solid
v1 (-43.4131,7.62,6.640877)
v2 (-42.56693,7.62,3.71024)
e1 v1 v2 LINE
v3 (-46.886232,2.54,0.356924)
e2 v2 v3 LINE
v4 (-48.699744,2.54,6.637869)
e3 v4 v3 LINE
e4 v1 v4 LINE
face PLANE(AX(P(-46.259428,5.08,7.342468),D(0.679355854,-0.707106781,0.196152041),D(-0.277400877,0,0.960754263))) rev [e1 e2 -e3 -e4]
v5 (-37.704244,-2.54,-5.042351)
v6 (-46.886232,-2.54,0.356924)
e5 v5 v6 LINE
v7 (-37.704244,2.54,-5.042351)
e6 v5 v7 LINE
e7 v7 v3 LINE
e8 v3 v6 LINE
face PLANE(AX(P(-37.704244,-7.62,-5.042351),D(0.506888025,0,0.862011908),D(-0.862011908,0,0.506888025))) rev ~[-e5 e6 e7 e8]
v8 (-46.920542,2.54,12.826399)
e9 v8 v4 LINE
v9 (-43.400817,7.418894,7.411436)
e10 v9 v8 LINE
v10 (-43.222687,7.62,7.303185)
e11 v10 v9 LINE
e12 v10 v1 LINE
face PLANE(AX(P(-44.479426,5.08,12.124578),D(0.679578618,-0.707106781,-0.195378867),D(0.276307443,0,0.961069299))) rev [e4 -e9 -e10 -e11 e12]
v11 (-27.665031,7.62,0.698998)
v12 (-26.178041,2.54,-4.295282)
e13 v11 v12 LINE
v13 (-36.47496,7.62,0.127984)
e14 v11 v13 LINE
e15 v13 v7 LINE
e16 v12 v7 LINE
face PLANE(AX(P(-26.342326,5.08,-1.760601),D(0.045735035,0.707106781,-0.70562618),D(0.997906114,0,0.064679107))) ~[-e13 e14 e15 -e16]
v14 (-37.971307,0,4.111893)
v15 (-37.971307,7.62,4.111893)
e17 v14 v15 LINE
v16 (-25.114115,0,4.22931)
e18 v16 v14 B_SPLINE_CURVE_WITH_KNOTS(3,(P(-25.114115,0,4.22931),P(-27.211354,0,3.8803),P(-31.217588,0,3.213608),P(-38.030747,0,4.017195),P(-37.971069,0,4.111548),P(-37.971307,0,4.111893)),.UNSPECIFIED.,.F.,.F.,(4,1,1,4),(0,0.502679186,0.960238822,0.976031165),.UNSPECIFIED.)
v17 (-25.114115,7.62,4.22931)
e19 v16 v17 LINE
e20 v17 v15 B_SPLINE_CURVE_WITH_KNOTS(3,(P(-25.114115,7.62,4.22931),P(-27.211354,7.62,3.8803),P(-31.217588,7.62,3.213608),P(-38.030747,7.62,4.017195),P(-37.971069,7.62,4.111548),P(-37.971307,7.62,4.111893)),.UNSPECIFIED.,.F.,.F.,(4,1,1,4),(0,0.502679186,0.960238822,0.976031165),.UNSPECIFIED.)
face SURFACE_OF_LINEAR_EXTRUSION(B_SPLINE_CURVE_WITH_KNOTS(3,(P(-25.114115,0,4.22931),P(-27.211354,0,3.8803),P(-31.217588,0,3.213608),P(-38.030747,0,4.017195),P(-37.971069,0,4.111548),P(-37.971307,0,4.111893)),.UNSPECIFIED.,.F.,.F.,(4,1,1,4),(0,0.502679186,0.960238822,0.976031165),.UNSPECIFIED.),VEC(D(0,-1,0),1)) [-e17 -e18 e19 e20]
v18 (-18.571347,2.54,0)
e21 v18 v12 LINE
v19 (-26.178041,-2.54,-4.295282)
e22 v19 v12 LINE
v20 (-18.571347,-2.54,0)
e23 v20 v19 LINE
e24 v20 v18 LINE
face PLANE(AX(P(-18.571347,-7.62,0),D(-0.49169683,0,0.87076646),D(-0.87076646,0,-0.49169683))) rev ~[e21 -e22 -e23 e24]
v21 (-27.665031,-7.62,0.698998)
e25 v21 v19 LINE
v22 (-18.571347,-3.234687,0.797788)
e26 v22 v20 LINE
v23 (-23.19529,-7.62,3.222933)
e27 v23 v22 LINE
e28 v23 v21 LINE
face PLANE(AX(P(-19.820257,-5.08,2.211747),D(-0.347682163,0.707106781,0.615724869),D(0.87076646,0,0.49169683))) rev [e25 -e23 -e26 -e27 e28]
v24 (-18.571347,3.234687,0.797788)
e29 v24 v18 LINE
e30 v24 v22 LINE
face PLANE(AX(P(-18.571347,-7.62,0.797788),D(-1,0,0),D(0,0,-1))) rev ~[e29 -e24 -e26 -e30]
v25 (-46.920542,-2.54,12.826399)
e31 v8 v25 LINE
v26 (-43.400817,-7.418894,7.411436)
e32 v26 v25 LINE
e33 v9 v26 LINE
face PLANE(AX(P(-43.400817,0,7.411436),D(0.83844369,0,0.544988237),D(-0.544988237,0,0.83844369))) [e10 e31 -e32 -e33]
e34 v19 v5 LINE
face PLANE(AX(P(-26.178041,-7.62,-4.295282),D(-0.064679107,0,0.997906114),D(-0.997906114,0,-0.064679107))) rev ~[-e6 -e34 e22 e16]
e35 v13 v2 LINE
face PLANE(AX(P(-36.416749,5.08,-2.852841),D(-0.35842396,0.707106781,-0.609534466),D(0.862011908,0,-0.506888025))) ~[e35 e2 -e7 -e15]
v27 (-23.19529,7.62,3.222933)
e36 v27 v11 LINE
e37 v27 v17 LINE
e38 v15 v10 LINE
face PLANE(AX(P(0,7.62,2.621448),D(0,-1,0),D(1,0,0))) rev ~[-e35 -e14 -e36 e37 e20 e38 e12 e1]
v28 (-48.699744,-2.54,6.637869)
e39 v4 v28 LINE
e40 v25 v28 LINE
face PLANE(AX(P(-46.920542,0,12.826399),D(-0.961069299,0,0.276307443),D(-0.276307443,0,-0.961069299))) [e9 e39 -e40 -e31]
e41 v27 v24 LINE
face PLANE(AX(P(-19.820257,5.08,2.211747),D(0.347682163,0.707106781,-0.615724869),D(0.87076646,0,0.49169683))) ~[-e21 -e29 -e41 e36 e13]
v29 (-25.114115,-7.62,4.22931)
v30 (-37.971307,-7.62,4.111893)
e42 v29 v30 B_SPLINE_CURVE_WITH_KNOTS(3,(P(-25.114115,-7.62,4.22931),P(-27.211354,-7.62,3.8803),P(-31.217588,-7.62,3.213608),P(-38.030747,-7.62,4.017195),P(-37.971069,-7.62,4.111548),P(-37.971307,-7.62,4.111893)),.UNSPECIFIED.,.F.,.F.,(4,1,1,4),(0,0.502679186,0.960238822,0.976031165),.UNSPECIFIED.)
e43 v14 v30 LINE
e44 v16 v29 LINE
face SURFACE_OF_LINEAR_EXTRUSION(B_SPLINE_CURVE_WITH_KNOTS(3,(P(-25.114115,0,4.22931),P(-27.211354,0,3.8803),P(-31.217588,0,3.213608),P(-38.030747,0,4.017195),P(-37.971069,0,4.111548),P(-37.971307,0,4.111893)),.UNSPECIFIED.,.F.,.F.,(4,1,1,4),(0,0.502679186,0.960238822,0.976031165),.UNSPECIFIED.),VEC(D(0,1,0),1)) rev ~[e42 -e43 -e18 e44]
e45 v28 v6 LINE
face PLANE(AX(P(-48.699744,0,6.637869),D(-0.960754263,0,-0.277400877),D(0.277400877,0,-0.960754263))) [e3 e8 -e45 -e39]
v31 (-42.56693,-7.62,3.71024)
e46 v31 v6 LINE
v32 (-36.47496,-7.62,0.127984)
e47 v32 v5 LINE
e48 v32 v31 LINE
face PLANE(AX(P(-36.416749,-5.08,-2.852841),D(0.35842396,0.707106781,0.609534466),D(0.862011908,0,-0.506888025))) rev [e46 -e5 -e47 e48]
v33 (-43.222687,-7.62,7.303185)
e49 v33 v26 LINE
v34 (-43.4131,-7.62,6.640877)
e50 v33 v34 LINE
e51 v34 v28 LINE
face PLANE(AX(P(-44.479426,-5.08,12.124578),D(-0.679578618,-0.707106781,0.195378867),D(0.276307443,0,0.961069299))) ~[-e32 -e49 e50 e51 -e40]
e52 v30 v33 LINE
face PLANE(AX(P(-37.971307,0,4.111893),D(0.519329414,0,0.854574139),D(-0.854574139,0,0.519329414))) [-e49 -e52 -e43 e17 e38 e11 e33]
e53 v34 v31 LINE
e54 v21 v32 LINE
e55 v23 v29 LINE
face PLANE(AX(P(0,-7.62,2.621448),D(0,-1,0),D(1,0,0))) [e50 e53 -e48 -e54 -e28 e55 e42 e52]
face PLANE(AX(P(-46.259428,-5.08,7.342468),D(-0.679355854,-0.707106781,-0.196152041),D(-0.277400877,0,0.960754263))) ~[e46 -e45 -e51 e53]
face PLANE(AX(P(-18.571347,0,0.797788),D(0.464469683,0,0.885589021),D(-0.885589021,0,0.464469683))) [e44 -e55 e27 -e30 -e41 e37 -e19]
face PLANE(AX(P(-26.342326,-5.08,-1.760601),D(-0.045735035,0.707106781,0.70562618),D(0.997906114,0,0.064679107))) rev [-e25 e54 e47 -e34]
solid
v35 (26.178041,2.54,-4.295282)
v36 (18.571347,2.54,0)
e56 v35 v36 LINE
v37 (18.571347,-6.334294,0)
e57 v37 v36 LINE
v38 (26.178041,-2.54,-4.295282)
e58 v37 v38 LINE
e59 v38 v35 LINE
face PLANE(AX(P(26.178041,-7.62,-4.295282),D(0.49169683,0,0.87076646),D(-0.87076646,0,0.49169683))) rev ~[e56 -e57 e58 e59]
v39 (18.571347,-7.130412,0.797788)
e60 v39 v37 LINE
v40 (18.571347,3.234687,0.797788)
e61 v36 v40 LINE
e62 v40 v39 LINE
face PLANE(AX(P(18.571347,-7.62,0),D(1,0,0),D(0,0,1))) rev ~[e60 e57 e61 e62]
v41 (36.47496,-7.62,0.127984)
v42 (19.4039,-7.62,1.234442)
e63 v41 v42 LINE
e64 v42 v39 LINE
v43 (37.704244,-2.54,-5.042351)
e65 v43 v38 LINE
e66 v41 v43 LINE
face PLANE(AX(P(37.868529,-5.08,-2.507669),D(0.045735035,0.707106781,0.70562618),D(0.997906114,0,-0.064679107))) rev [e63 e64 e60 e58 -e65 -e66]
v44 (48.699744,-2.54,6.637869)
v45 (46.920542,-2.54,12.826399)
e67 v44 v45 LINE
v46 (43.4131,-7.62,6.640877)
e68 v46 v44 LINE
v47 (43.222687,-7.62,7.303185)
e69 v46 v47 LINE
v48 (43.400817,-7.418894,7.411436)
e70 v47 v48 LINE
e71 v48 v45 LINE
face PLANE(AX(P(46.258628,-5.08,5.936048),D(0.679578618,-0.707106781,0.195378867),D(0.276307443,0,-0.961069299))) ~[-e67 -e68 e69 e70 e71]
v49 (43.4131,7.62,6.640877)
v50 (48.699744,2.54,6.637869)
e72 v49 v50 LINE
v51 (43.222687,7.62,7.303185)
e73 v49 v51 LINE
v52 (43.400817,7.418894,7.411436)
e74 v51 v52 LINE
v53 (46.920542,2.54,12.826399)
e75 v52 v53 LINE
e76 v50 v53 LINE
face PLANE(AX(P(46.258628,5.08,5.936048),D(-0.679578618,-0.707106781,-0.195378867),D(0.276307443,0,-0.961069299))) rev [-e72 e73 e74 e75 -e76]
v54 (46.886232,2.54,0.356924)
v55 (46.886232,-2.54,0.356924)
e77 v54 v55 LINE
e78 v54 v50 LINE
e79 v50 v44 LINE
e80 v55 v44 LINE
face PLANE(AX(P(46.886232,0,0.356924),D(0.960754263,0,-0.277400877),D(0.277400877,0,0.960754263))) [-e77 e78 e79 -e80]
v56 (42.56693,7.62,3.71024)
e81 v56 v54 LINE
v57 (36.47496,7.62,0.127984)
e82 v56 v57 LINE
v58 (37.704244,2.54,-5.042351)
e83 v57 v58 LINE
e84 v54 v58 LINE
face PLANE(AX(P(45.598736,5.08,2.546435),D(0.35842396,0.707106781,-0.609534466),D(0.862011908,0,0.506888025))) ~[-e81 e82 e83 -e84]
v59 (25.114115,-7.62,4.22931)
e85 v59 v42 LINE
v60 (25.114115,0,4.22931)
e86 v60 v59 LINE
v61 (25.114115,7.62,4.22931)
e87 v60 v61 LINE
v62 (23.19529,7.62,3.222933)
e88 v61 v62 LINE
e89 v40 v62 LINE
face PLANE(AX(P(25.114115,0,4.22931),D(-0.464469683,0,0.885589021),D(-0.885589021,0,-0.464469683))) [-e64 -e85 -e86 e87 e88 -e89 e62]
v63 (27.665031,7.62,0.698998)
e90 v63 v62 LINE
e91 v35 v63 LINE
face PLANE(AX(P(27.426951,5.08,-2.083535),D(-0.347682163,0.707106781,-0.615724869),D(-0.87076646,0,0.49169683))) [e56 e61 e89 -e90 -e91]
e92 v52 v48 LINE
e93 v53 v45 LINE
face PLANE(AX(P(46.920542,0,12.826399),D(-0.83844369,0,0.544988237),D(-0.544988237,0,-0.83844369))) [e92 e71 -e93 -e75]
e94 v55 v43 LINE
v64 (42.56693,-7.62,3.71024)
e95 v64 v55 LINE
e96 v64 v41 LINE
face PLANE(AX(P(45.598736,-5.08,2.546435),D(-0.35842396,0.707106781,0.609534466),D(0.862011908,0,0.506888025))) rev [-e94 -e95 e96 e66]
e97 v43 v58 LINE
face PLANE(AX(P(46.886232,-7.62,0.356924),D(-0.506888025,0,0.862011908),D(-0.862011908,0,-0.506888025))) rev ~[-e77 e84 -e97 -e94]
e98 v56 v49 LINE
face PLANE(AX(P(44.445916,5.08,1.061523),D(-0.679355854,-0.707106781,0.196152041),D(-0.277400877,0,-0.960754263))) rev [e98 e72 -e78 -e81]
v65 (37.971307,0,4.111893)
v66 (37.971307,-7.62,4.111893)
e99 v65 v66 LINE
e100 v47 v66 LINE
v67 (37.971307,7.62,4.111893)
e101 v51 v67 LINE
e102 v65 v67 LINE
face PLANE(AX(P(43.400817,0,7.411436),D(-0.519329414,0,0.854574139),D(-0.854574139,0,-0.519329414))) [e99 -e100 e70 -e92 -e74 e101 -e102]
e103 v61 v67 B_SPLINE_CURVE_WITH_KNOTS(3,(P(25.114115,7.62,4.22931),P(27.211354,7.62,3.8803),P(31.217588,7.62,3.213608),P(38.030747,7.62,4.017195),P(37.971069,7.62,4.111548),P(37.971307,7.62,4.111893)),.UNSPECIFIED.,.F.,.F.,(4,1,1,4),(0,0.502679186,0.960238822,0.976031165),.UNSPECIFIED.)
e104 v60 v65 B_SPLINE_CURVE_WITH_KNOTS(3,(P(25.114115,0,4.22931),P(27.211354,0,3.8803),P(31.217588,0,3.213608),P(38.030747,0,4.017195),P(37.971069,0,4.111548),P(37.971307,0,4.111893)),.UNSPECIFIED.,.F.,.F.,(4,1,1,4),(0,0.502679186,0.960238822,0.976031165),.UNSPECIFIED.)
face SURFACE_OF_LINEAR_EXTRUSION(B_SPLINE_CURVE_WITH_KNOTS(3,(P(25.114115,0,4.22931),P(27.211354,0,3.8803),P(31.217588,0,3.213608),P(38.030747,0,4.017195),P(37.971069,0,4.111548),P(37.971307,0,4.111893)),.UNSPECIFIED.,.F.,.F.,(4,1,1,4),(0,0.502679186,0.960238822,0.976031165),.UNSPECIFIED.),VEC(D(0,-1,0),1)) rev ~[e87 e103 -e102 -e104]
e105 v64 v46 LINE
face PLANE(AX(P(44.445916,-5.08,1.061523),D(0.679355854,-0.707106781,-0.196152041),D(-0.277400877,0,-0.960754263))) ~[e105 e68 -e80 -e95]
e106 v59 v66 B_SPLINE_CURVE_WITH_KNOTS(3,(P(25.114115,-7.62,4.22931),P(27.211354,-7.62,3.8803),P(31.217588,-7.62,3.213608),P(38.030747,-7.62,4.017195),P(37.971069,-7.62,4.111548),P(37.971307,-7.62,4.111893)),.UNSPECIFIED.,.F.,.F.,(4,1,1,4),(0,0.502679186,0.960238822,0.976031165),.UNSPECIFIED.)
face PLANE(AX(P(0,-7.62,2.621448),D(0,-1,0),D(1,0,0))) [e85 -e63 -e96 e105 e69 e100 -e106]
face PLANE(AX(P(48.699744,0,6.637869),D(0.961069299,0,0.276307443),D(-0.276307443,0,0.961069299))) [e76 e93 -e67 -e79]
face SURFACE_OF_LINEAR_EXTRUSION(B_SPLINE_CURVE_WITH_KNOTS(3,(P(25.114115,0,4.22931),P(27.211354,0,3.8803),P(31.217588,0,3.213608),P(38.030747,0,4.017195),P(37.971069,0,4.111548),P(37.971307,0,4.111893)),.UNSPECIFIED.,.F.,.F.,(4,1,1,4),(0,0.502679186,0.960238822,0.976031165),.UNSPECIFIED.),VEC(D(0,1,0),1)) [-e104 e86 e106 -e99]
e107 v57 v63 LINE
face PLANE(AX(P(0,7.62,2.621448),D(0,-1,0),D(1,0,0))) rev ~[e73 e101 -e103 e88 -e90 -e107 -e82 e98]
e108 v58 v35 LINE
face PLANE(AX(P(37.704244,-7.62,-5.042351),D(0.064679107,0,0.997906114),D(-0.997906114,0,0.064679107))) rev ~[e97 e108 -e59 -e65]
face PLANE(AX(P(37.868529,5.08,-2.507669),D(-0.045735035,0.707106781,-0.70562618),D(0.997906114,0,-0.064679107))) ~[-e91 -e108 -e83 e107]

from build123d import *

# Parameters (mm, degrees)
F1_DEPTH = 7.62
F2_DEPTH = 7.62
F4_DEPTH = 25.4
F5_SIZE  = 5.08
F6_SIZE  = 5.08


with BuildPart() as f1:
    # F0 (on Front) → F1 (new body)
    with BuildSketch(Plane.XZ):
        with BuildLine():
            Line((8.2811145112, 1.2285960838), (0, 15.4874408618))
            Line((0, 15.4874408618), (-8.2811145112, 1.2285960838))
            Line((-8.2811145112, 1.2285960838), (-12.3727992177, 8.1617282704))
            Line((-12.3727992177, 8.1617282704), (-11.9023714215, 16.1495022476))
            add(Edge.make_bspline(
                [(-11.9023714215, 16.1495022476), (-13.1613517272, 16.6548575419), (-15.5670384726, 17.6205013473), (-17.5333922375, 20.1015797679), (-20.5609874273, 22.6867834573), (-21.4873396412, 24.6462285212), (-22.7265176962, 26.164892306), (-23.3956482261, 26.9849393517)],
                knots=[0, 0, 0, 0, 0.2204500858, 0.4212407827, 0.6411829959, 0.8062462362, 1, 1, 1, 1], degree=3))
            Line((-23.3956482261, 26.9849393517), (-23.3956482261, 30.6120049208))
            Line((-23.3956482261, 30.6120049208), (-28.4874904901, 20.2190671116))
            add(Edge.make_bspline(
                [(-28.4874904901, 20.2190671116), (-26.7351245713, 18.6815123537), (-23.471648253, 15.8180844094), (-18.698489342, 12.765512723), (-18.619259599, 5.307731901), (-18.5713469982, 0.7977882633)],
                knots=[0, 0, 0, 0, 0.3143060786, 0.5853403295, 1, 1, 1, 1], degree=3))
            Line((-18.5713469982, 0.7977882633), (-25.1141153276, 4.229309503))
            add(Edge.make_bspline(
                [(-25.1141153276, 4.229309503), (-27.2113543103, 3.8803000814), (-31.2175880029, 3.2136076751), (-38.0307467331, 4.0171950636), (-37.9710688228, 4.111548475), (-37.9713065922, 4.1118925437)],
                knots=[0, 0, 0, 0, 0.5026791859, 0.9602388224, 0.9760311652, 0.9760311652, 0.9760311652, 0.9760311652], degree=3))
            Line((-37.9713065922, 4.1118925437), (-43.4008166194, 7.4114357121))
            Line((-43.4008166194, 7.4114357121), (-46.9205416739, 12.8263989463))
            Line((-46.9205416739, 12.8263989463), (-48.6997440457, 6.6378694028))
            Line((-48.6997440457, 6.6378694028), (-46.8862317502, 0.3569243418))
            Line((-46.8862317502, 0.3569243418), (-50.1090995967, 2.34253495))
            Line((-50.1090995967, 2.34253495), (-54.2478188872, 9.5133557916))
            Line((-54.2478188872, 9.5133557916), (-56.9247491658, 21.5117353946))
            Line((-56.9247491658, 21.5117353946), (-60.4143179953, 10.0391805172))
            Line((-60.4143179953, 10.0391805172), (-59.0758509934, -0.716338749))
            Line((-59.0758509934, -0.716338749), (-61.4659674466, 1.1479511159))
            Line((-61.4659674466, 1.1479511159), (-65.5291676521, 8.0792857334))
            Line((-65.5291676521, 8.0792857334), (-66.8426156044, 23.612709716))
            Line((-66.8426156044, 23.612709716), (-70.5394372344, 10.0391805172))
            Line((-70.5394372344, 10.0391805172), (-70.5394372344, -4.383392632))
            Line((-70.5394372344, -4.383392632), (-64.0365630388, -13.9240529388))
            Line((-64.0365630388, -13.9240529388), (-58.2605600357, -17.2362215817))
            Line((-58.2605600357, -17.2362215817), (-57.4691556394, -21.3832873851))
            Line((-57.4691556394, -21.3832873851), (-50.0076673925, -19.3392392248))
            Line((-50.0076673925, -19.3392392248), (-43.4008166194, -18.7325309962))
            Line((-43.4008166194, -18.7325309962), (-31.6388532519, -30.0529096276))
            Line((-31.6388532519, -30.0529096276), (-30.9283062816, -21.5263534337))
            Line((-30.9283062816, -21.5263534337), (-24.7964542359, -15.9849915653))
            Line((-24.7964542359, -15.9849915653), (-12.4508133158, -11.1685302109))
            Line((-12.4508133158, -11.1685302109), (-2.8095340822, -10.3738503531))
            Line((-2.8095340822, -10.3738503531), (0, -15.2332289144))
            Line((0, -15.2332289144), (2.8095340822, -10.3738503531))
            Line((2.8095340822, -10.3738503531), (12.4508133158, -11.1685302109))
            Line((12.4508133158, -11.1685302109), (24.7964542359, -15.9849915653))
            Line((24.7964542359, -15.9849915653), (30.9283062816, -21.5263534337))
            Line((30.9283062816, -21.5263534337), (31.6388532519, -30.0529096276))
            Line((31.6388532519, -30.0529096276), (43.4008166194, -18.7325309962))
            Line((43.4008166194, -18.7325309962), (50.0076673925, -19.3392392248))
            Line((50.0076673925, -19.3392392248), (57.4691556394, -21.3832873851))
            Line((57.4691556394, -21.3832873851), (58.2605600357, -17.2362215817))
            Line((58.2605600357, -17.2362215817), (64.0365630388, -13.9240529388))
            Line((64.0365630388, -13.9240529388), (70.5394372344, -4.383392632))
            Line((70.5394372344, -4.383392632), (70.5394372344, 10.0391805172))
            Line((70.5394372344, 10.0391805172), (66.8426156044, 23.612709716))
            Line((66.8426156044, 23.612709716), (65.5291676521, 8.0792857334))
            Line((65.5291676521, 8.0792857334), (61.4659674466, 1.1479511159))
            Line((61.4659674466, 1.1479511159), (59.0758509934, -0.716338749))
            Line((59.0758509934, -0.716338749), (60.4143179953, 10.0391805172))
            Line((60.4143179953, 10.0391805172), (56.9247491658, 21.5117353946))
            Line((56.9247491658, 21.5117353946), (54.2478188872, 9.5133557916))
            Line((54.2478188872, 9.5133557916), (50.1090995967, 2.34253495))
            Line((50.1090995967, 2.34253495), (46.8862317502, 0.3569243418))
            Line((46.8862317502, 0.3569243418), (48.6997440457, 6.6378694028))
            Line((48.6997440457, 6.6378694028), (46.9205416739, 12.8263989463))
            Line((46.9205416739, 12.8263989463), (43.4008166194, 7.4114357121))
            Line((43.4008166194, 7.4114357121), (37.9713065922, 4.1118925437))
            add(Edge.make_bspline(
                [(25.1141153276, 4.229309503), (27.2113543103, 3.8803000814), (31.2175880029, 3.2136076751), (38.0307467331, 4.0171950636), (37.9710688228, 4.111548475), (37.9713065922, 4.1118925437)],
                knots=[0, 0, 0, 0, 0.5026791859, 0.9602388224, 0.9760311652, 0.9760311652, 0.9760311652, 0.9760311652], degree=3))
            Line((25.1141153276, 4.229309503), (18.5713469982, 0.7977882633))
            add(Edge.make_bspline(
                [(28.4874904901, 20.2190671116), (26.7351245713, 18.6815123537), (23.471648253, 15.8180844094), (18.698489342, 12.765512723), (18.619259599, 5.307731901), (18.5713469982, 0.7977882633)],
                knots=[0, 0, 0, 0, 0.3143060786, 0.5853403295, 1, 1, 1, 1], degree=3))
            Line((28.4874904901, 20.2190671116), (23.3956482261, 30.6120049208))
            Line((23.3956482261, 30.6120049208), (23.3956482261, 26.9849393517))
            add(Edge.make_bspline(
                [(11.9023714215, 16.1495022476), (13.1613517272, 16.6548575419), (15.5670384726, 17.6205013473), (17.5333922375, 20.1015797679), (20.5609874273, 22.6867834573), (21.4873396412, 24.6462285212), (22.7265176962, 26.164892306), (23.3956482261, 26.9849393517)],
                knots=[0, 0, 0, 0, 0.2204500858, 0.4212407827, 0.6411829959, 0.8062462362, 1, 1, 1, 1], degree=3))
            Line((11.9023714215, 16.1495022476), (12.3727992177, 8.1617282704))
            Line((12.3727992177, 8.1617282704), (8.2811145112, 1.2285960838))
        make_face()
    extrude(amount=F1_DEPTH)

    # F2 (add): a face of the model
    f2_faces = [f1.faces().sort_by_distance(p)[0] for p in [
        (0, 0, -2.9396699917),
    ]]
    extrude(f2_faces, amount=F2_DEPTH)

    # F3 (on face) → F4 (cut)
    with BuildSketch(Plane.XZ.offset(7.62)):
        with BuildLine():
            Line((50.1090995967, 2.34253495), (46.8862317502, 0.3569243418))
            Line((46.8862317502, 0.3569243418), (37.704244256, -5.042350851))
            Line((37.704244256, -5.042350851), (26.178041473, -4.2952820659))
            Line((26.178041473, -4.2952820659), (18.5713469982, 0))
            Line((18.5713469982, 0), (18.5713469982, 0.7977882633))
            add(Edge.make_bspline(
                [(28.4874904901, 20.2190671116), (26.7351245713, 18.6815123537), (23.471648253, 15.8180844094), (18.698489342, 12.765512723), (18.619259599, 5.307731901), (18.5713469982, 0.7977882633)],
                knots=[0, 0, 0, 0, 0.3143060786, 0.5853403295, 1, 1, 1, 1], degree=3))
            Line((28.4874904901, 20.2190671116), (23.3956482261, 30.6120049208))
            Line((23.3956482261, 30.6120049208), (23.3956482261, 26.9849393517))
            add(Edge.make_bspline(
                [(11.9023714215, 16.1495022476), (13.1613517272, 16.6548575419), (15.5670384726, 17.6205013473), (17.5333922375, 20.1015797679), (20.5609874273, 22.6867834573), (21.4873396412, 24.6462285212), (22.7265176962, 26.164892306), (23.3956482261, 26.9849393517)],
                knots=[0, 0, 0, 0, 0.2204500858, 0.4212407827, 0.6411829959, 0.8062462362, 1, 1, 1, 1], degree=3))
            Line((11.9023714215, 16.1495022476), (12.3727992177, 8.1617282704))
            Line((12.3727992177, 8.1617282704), (11.8300747126, 1.1479511159))
            Line((11.8300747126, 1.1479511159), (14.1611397266, -7.0250043646))
            Line((14.1611397266, -7.0250043646), (21.2970543653, -9.0706339106))
            Line((21.2970543653, -9.0706339106), (24.7849505395, -10.6449779123))
            Line((24.7849505395, -10.6449779123), (37.9713065922, -13.2080012186))
            Line((37.9713065922, -13.2080012186), (38.8208404183, -12.7084506676))
            Line((38.8208404183, -12.7084506676), (50.1090995967, -9.5750857145))
            Line((50.1090995967, -9.5750857145), (54.7299973552, -7.0923368166))
            Line((54.7299973552, -7.0923368166), (59.0758509934, -0.716338749))
            Line((59.0758509934, -0.716338749), (60.4143179953, 10.0391805172))
            Line((60.4143179953, 10.0391805172), (56.9247491658, 21.5117353946))
            Line((56.9247491658, 21.5117353946), (54.2478188872, 9.5133557916))
            Line((54.2478188872, 9.5133557916), (50.1090995967, 2.34253495))
        make_face()
        Polygon((61.4659674466, 1.1479511159), (59.0758509934, -0.716338749), (54.7299973552, -7.0923368166), (50.1090995967, -9.5750857145), (38.8208404183, -12.7084506676), (37.9713065922, -13.2080012186), (24.7849505395, -10.6449779123), (21.2970543653, -9.0706339106), (14.1611397266, -7.0250043646), (11.8300747126, 1.1479511159), (12.3727992177, 8.1617282704), (8.2811145112, 1.2285960838), (9.0035646737, 0), (2.8095340822, -10.3738503531), (12.4508133158, -11.1685302109), (24.7964542359, -15.9849915653), (30.9283062816, -21.5263534337), (31.6388532519, -30.0529096276), (43.4008166194, -18.7325309962), (50.0076673925, -19.3392392248), (57.4691556394, -21.3832873851), (58.2605600357, -17.2362215817), (64.0365630388, -13.9240529388), (70.5394372344, -4.383392632), (70.5394372344, 10.0391805172), (66.8426156044, 23.612709716), (65.5291676521, 8.0792857334), align=None)
        Polygon((9.0035646737, 0), (8.2811145112, 1.2285960838), (0, 15.4874408618), (-8.2811145112, 1.2285960838), (-9.0035646737, 0), (-2.8095340822, -10.3738503531), (0, -15.2332289144), (2.8095340822, -10.3738503531), align=None)
        Polygon((-9.0035646737, 0), (-8.2811145112, 1.2285960838), (-12.3727992177, 8.1617282704), (-11.8300747126, 1.1479511159), (-14.1611397266, -7.0250043646), (-21.2970543653, -9.0706339106), (-24.7849505395, -10.6449779123), (-37.9713065922, -13.2080012186), (-38.8208404183, -12.7084506676), (-50.1090995967, -9.5750857145), (-54.7299973552, -7.0923368166), (-59.0758509934, -0.716338749), (-61.4659674466, 1.1479511159), (-65.5291676521, 8.0792857334), (-66.8426156044, 23.612709716), (-70.5394372344, 10.0391805172), (-70.5394372344, -4.383392632), (-64.0365630388, -13.9240529388), (-58.2605600357, -17.2362215817), (-57.4691556394, -21.3832873851), (-50.0076673925, -19.3392392248), (-43.4008166194, -18.7325309962), (-31.6388532519, -30.0529096276), (-30.9283062816, -21.5263534337), (-24.7964542359, -15.9849915653), (-12.4508133158, -11.1685302109), (-2.8095340822, -10.3738503531), align=None)
        with BuildLine():
            Line((-11.8300747126, 1.1479511159), (-12.3727992177, 8.1617282704))
            Line((-12.3727992177, 8.1617282704), (-11.9023714215, 16.1495022476))
            add(Edge.make_bspline(
                [(-11.9023714215, 16.1495022476), (-13.1613517272, 16.6548575419), (-15.5670384726, 17.6205013473), (-17.5333922375, 20.1015797679), (-20.5609874273, 22.6867834573), (-21.4873396412, 24.6462285212), (-22.7265176962, 26.164892306), (-23.3956482261, 26.9849393517)],
                knots=[0, 0, 0, 0, 0.2204500858, 0.4212407827, 0.6411829959, 0.8062462362, 1, 1, 1, 1], degree=3))
            Line((-23.3956482261, 26.9849393517), (-23.3956482261, 30.6120049208))
            Line((-23.3956482261, 30.6120049208), (-28.4874904901, 20.2190671116))
            add(Edge.make_bspline(
                [(-28.4874904901, 20.2190671116), (-26.7351245713, 18.6815123537), (-23.471648253, 15.8180844094), (-18.698489342, 12.765512723), (-18.619259599, 5.307731901), (-18.5713469982, 0.7977882633)],
                knots=[0, 0, 0, 0, 0.3143060786, 0.5853403295, 1, 1, 1, 1], degree=3))
            Line((-18.5713469982, 0.7977882633), (-18.5713469982, 0))
            Line((-18.5713469982, 0), (-26.178041473, -4.2952820659))
            Line((-26.178041473, -4.2952820659), (-37.704244256, -5.042350851))
            Line((-37.704244256, -5.042350851), (-46.8862317502, 0.3569243418))
            Line((-46.8862317502, 0.3569243418), (-50.1090995967, 2.34253495))
            Line((-50.1090995967, 2.34253495), (-54.2478188872, 9.5133557916))
            Line((-54.2478188872, 9.5133557916), (-56.9247491658, 21.5117353946))
            Line((-56.9247491658, 21.5117353946), (-60.4143179953, 10.0391805172))
            Line((-60.4143179953, 10.0391805172), (-59.0758509934, -0.716338749))
            Line((-59.0758509934, -0.716338749), (-54.7299973552, -7.0923368166))
            Line((-54.7299973552, -7.0923368166), (-50.1090995967, -9.5750857145))
            Line((-50.1090995967, -9.5750857145), (-38.8208404183, -12.7084506676))
            Line((-38.8208404183, -12.7084506676), (-37.9713065922, -13.2080012186))
            Line((-37.9713065922, -13.2080012186), (-24.7849505395, -10.6449779123))
            Line((-24.7849505395, -10.6449779123), (-21.2970543653, -9.0706339106))
            Line((-21.2970543653, -9.0706339106), (-14.1611397266, -7.0250043646))
            Line((-14.1611397266, -7.0250043646), (-11.8300747126, 1.1479511159))
        make_face()
    extrude(amount=-F4_DEPTH, mode=Mode.SUBTRACT)

    # F5
    f5_edges = [f1.edges().sort_by_distance(p)[0] for p in [
        (31.941143, -7.62, -4.668816),
        (42.295238, -7.62, -2.342713),
        (47.792988, -7.62, 3.497397),
        (47.810143, -7.62, 9.732134),
        (-22.374694, -7.62, -2.147641),
        (-31.941143, -7.62, -4.668816),
        (-42.295238, -7.62, -2.342713),
        (-47.792988, -7.62, 3.497397),
        (-47.810143, -7.62, 9.732134),
    ]]
    chamfer(f5_edges, length=F5_SIZE)

    # F6
    f6_edges = [f1.edges().sort_by_distance(p)[0] for p in [
        (-47.810143, 7.62, 9.732134),
        (-47.792988, 7.62, 3.497397),
        (-42.295238, 7.62, -2.342713),
        (-31.941143, 7.62, -4.668816),
        (-22.374694, 7.62, -2.147641),
        (22.374694, 7.62, -2.147641),
        (31.941143, 7.62, -4.668816),
        (42.295238, 7.62, -2.342713),
        (47.792988, 7.62, 3.497397),
        (47.810143, 7.62, 9.732134),
    ]]
    chamfer(f6_edges, length=F6_SIZE)


solid = f1.part
